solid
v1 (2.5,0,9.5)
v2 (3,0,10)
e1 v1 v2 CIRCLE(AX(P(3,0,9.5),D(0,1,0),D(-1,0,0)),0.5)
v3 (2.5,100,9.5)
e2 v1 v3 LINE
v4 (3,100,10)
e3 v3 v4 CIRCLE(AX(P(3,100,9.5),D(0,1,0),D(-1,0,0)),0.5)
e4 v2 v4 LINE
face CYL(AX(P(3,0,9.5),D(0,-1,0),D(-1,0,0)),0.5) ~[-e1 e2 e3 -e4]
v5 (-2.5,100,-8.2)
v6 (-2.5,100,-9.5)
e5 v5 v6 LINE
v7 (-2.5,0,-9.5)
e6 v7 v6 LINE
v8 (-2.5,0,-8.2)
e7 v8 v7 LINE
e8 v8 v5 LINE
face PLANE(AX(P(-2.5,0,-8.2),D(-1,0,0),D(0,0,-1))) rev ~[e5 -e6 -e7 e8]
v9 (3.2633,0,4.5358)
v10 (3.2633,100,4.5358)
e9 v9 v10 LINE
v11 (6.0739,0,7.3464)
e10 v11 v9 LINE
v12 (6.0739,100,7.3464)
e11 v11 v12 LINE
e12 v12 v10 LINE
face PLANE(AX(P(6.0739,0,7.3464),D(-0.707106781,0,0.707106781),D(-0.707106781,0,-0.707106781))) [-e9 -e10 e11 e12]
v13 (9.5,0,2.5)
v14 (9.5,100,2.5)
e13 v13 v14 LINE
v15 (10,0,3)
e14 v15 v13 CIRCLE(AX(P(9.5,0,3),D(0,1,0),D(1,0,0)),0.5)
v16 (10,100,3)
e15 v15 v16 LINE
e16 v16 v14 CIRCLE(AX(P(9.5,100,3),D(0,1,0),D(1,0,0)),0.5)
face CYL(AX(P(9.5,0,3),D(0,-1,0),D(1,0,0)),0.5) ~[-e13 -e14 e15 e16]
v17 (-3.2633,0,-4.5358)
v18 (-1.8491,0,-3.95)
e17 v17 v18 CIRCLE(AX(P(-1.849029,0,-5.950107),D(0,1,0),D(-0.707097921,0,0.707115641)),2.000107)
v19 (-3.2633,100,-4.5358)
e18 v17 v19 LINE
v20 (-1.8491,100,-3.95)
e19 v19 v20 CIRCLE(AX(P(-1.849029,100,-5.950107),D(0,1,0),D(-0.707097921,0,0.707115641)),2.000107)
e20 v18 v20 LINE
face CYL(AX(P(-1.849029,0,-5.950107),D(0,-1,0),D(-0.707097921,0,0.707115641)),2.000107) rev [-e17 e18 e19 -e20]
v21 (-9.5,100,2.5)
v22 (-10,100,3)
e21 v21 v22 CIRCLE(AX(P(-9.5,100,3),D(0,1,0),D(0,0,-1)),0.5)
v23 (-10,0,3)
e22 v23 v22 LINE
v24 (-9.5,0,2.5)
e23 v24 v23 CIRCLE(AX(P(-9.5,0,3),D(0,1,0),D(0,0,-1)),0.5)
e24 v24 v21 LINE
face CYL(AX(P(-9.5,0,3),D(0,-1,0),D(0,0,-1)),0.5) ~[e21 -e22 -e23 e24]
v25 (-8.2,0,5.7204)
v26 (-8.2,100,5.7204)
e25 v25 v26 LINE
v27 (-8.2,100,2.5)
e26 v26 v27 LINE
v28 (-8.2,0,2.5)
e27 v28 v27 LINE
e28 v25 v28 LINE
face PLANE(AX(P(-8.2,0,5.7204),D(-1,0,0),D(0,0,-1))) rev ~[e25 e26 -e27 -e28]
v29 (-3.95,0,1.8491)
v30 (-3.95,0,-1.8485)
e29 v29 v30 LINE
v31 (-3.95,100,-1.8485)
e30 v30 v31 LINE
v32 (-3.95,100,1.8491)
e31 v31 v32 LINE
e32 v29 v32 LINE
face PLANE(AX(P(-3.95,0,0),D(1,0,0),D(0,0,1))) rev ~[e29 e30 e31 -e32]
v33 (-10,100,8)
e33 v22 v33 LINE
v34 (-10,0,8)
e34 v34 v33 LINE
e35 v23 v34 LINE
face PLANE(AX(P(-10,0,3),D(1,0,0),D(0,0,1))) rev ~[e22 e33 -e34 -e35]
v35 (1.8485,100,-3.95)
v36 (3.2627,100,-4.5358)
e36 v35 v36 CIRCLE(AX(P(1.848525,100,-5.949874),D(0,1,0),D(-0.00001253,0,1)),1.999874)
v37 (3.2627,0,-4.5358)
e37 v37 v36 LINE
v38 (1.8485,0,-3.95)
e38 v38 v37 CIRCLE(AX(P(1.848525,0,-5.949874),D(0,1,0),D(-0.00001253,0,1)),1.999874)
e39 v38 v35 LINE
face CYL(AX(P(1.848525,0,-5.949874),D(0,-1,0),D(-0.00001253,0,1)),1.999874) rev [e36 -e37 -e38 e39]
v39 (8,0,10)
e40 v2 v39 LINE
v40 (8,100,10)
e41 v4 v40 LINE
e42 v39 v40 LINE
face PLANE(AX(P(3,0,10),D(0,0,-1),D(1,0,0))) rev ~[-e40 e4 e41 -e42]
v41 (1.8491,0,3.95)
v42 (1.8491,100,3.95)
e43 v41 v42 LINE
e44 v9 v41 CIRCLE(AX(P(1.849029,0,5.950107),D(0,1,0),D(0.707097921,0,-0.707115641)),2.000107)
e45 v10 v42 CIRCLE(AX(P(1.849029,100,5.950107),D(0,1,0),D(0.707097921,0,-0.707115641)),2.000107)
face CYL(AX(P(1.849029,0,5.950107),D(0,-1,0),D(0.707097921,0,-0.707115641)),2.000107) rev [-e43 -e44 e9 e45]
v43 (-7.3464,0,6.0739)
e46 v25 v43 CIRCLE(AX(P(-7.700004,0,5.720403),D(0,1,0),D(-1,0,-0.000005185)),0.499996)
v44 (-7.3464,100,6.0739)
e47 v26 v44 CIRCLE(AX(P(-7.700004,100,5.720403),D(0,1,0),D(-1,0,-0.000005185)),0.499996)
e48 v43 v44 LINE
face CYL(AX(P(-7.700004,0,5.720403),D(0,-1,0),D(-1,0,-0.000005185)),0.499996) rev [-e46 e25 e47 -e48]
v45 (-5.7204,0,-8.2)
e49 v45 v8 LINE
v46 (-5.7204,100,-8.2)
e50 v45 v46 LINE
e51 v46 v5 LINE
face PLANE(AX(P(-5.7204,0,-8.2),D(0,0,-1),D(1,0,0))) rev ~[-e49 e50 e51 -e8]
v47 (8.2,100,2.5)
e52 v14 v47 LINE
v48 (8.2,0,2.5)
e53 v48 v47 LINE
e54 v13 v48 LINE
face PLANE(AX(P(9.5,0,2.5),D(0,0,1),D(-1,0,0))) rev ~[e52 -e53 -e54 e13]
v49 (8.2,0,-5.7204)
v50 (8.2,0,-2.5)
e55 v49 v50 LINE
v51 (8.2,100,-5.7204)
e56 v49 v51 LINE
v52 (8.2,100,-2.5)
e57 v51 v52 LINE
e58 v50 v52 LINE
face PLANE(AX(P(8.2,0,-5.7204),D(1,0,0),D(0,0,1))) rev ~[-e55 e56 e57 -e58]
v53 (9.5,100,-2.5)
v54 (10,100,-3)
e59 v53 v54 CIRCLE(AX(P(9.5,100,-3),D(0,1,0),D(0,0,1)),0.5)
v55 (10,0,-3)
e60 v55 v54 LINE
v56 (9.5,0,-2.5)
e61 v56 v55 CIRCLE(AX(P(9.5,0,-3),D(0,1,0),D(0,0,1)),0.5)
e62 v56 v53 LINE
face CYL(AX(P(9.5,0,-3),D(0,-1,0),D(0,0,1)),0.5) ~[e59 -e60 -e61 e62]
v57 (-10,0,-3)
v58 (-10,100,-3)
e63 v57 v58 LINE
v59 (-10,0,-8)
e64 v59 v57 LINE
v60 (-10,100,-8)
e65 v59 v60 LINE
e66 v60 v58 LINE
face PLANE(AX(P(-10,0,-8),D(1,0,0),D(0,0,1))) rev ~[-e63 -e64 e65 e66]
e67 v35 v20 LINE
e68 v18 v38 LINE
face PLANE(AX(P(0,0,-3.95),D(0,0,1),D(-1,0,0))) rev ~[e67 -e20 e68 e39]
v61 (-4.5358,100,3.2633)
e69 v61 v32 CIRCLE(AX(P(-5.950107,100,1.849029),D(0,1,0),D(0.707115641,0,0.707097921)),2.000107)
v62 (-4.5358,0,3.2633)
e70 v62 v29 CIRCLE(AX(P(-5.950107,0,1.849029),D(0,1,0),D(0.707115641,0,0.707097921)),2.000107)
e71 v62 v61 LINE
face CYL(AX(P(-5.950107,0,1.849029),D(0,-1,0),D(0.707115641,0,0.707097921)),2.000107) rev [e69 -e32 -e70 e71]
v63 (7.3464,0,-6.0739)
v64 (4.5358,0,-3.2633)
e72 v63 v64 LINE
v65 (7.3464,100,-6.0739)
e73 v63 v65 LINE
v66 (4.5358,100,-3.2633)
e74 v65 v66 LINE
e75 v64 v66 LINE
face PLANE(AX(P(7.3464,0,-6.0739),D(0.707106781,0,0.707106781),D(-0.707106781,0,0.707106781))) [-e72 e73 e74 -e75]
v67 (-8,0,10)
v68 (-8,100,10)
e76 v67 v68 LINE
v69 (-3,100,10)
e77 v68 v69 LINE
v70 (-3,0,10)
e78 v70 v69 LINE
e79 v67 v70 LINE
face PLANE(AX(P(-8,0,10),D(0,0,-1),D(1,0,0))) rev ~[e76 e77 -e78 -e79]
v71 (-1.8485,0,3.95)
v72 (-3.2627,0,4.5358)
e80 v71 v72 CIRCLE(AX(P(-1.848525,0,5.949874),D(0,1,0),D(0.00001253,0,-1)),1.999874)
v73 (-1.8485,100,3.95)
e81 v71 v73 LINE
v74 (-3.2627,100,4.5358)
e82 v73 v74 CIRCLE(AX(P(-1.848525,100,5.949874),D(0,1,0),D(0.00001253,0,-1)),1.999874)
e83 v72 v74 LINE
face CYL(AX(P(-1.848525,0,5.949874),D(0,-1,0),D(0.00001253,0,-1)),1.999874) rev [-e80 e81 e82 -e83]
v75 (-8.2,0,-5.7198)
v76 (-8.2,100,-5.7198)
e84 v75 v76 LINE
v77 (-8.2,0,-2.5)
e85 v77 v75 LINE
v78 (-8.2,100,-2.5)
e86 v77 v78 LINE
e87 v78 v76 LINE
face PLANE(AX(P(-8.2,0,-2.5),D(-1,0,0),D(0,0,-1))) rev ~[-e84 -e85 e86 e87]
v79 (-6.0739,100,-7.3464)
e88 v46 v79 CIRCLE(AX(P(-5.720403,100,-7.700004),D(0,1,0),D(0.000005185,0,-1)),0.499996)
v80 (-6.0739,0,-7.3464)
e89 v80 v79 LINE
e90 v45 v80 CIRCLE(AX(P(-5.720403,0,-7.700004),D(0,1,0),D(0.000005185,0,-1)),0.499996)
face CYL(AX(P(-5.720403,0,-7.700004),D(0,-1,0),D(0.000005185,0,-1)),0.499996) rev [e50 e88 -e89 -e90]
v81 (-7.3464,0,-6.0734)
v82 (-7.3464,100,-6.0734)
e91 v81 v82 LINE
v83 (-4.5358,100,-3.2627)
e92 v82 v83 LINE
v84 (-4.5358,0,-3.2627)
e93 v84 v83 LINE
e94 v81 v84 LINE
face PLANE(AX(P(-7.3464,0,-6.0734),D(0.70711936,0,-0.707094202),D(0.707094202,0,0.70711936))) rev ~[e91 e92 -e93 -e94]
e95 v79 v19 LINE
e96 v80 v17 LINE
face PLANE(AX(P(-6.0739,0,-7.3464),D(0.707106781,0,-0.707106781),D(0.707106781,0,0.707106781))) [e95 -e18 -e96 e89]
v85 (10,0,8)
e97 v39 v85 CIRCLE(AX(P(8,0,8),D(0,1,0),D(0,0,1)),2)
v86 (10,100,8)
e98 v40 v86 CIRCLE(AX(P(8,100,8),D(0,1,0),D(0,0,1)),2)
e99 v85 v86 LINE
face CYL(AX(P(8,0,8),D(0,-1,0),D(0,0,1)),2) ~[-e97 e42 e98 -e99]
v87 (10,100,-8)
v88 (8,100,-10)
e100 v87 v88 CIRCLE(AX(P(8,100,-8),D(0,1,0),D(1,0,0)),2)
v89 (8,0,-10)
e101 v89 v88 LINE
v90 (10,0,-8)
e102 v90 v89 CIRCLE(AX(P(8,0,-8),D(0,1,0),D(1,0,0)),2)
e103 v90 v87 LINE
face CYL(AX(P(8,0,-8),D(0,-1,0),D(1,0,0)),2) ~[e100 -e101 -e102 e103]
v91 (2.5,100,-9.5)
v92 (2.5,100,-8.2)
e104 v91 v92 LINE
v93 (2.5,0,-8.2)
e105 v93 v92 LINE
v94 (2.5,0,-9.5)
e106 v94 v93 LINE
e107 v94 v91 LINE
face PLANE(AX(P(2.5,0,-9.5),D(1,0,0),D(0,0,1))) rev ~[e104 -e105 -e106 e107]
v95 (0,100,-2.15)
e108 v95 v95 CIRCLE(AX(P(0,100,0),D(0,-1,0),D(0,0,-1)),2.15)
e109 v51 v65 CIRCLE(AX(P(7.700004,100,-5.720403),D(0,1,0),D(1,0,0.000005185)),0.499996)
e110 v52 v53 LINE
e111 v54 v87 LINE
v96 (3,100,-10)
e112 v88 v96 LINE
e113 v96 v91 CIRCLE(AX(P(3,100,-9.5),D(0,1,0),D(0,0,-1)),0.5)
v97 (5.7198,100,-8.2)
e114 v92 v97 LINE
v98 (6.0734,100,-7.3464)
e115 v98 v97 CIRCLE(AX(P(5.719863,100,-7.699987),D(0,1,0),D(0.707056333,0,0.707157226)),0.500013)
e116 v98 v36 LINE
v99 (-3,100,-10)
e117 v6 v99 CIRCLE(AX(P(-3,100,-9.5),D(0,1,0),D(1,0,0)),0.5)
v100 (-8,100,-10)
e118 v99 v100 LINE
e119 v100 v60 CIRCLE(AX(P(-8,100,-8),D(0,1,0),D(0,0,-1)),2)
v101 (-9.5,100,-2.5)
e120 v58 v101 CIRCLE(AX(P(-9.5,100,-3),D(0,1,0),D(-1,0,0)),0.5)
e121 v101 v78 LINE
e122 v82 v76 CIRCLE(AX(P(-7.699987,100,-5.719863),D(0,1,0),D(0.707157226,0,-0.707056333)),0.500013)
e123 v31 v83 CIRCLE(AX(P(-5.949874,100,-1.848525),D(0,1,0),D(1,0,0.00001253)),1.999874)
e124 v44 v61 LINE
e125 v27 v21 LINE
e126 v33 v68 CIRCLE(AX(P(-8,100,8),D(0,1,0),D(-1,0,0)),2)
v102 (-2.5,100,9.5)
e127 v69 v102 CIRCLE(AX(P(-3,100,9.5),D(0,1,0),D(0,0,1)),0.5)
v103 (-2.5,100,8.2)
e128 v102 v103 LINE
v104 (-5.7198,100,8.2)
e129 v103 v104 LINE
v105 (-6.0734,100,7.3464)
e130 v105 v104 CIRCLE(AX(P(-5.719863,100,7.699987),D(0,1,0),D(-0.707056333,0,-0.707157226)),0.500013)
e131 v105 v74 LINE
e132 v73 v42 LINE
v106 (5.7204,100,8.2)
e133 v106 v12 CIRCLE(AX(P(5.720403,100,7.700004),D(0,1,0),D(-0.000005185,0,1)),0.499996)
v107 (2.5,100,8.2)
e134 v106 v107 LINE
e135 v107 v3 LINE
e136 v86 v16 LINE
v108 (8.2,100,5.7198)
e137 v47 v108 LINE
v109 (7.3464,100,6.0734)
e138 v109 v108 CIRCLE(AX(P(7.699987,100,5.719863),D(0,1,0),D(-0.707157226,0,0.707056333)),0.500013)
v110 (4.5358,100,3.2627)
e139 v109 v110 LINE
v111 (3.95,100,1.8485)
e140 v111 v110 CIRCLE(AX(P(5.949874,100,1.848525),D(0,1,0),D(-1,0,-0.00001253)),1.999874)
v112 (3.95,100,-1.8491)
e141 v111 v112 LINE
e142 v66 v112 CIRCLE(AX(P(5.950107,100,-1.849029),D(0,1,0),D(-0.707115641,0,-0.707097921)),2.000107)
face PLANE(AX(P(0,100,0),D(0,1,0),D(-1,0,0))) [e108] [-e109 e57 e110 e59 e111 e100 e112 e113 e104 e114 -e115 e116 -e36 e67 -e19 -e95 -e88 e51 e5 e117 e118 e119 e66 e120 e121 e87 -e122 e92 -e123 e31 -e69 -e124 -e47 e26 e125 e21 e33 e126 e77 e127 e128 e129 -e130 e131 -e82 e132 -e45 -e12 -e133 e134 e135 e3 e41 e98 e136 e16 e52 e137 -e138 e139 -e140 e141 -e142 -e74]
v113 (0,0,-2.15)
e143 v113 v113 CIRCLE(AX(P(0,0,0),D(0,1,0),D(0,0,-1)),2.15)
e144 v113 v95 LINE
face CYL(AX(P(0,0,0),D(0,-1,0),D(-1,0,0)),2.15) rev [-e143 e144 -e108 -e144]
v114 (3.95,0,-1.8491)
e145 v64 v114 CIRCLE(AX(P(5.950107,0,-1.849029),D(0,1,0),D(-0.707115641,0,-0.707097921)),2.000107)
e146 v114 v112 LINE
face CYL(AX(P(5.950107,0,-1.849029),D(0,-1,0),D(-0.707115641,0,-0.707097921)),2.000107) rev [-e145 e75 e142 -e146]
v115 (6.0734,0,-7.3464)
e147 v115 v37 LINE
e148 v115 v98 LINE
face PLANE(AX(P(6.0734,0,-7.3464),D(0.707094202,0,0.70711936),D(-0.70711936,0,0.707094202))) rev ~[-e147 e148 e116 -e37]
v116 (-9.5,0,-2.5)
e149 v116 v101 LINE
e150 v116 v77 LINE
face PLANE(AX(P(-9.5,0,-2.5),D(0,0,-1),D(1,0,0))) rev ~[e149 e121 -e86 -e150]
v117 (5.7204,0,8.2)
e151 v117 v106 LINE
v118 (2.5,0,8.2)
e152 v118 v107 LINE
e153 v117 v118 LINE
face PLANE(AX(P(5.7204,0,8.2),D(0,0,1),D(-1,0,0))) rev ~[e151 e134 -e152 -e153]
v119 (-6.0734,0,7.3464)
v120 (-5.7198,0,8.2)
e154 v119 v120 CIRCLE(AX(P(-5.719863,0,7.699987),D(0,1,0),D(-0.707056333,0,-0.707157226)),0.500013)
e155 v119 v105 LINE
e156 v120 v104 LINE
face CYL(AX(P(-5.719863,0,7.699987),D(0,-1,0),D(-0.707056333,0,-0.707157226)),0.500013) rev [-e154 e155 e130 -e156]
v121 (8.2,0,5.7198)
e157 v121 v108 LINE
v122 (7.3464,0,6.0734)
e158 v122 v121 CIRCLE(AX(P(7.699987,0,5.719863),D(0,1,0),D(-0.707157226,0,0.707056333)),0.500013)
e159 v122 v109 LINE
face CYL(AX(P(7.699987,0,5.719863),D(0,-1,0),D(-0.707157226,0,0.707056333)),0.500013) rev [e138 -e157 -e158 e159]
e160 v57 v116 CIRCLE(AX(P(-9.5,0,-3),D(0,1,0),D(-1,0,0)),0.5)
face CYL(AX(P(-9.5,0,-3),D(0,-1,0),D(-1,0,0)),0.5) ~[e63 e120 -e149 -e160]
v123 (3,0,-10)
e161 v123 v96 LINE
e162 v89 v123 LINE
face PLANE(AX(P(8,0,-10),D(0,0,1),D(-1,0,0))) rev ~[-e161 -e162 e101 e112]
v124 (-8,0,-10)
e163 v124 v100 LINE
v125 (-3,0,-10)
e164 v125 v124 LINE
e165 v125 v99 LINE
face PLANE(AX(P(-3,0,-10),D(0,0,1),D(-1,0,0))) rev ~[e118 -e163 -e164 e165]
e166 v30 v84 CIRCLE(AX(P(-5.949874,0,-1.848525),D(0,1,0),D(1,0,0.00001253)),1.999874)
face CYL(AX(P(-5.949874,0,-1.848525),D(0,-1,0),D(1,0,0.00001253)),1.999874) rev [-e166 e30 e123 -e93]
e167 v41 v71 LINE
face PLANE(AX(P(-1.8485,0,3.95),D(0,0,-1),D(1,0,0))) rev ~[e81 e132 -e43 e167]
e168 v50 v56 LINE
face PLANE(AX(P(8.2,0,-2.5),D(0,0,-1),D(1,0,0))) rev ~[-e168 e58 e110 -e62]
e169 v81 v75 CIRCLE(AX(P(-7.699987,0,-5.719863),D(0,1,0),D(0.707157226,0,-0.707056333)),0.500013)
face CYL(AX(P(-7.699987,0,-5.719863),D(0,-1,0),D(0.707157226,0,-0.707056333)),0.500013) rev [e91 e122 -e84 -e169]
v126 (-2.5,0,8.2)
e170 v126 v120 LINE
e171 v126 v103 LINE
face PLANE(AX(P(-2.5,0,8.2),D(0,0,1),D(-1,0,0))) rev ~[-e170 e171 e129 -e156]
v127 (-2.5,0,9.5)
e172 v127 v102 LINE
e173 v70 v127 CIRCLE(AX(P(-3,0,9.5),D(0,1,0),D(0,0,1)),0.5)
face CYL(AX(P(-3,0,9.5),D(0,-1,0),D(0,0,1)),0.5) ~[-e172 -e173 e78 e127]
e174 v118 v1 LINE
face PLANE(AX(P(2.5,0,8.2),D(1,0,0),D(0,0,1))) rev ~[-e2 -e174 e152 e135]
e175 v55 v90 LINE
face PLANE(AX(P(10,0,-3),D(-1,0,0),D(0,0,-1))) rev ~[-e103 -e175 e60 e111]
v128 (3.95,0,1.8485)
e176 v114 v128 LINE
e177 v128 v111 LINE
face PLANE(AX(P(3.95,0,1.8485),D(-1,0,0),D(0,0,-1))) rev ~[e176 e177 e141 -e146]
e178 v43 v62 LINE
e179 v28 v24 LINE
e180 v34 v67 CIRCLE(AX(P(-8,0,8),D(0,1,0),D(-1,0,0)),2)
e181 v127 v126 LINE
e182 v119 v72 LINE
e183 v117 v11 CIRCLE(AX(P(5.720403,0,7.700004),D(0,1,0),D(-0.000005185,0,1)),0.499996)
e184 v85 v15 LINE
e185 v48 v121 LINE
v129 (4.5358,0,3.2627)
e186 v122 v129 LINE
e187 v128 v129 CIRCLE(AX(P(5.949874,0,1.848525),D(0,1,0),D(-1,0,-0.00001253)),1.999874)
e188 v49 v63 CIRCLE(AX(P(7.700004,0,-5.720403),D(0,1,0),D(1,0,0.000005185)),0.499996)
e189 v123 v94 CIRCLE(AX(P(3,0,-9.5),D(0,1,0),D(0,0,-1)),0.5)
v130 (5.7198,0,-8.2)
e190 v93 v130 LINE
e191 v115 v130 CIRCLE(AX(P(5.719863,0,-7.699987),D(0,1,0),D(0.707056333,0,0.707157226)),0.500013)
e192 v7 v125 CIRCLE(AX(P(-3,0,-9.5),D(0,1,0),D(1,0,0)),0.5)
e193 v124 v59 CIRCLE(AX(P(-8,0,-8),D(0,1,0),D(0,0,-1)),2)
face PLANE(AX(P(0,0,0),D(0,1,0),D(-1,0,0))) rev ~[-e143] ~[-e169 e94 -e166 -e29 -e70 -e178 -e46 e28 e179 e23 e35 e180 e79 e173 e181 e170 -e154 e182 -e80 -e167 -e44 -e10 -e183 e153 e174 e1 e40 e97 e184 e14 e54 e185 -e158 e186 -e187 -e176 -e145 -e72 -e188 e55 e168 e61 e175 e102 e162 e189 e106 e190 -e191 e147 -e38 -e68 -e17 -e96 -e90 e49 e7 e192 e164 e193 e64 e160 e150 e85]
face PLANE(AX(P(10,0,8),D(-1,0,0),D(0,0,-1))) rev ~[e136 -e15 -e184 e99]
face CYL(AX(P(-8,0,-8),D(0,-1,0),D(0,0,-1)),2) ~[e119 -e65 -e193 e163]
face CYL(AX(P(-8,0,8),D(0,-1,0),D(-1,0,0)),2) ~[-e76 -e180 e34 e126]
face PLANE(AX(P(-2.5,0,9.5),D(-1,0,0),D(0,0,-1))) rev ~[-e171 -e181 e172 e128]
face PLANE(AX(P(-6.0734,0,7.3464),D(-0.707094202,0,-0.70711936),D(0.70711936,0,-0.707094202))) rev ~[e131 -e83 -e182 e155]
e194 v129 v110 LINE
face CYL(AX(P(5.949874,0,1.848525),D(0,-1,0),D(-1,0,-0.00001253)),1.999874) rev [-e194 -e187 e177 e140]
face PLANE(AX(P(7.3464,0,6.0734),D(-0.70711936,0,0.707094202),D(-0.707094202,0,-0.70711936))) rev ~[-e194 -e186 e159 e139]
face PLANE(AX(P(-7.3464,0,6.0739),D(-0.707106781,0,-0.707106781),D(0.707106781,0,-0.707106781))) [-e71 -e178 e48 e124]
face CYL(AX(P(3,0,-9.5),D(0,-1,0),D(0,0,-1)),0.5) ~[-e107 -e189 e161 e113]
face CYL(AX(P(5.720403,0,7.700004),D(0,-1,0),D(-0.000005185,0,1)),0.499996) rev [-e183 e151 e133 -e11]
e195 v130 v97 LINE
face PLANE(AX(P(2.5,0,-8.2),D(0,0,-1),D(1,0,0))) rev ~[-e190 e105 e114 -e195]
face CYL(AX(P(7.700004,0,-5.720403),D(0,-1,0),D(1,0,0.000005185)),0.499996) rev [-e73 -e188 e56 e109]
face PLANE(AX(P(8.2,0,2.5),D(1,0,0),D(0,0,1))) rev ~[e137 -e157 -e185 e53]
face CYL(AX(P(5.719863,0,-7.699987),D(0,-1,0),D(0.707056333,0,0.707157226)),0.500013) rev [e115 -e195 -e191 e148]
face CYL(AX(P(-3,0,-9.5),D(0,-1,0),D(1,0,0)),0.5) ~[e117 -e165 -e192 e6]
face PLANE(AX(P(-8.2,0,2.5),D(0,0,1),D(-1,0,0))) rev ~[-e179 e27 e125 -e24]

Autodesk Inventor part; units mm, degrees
ref_plane "YZ Plane" through (0, 0, 0) normal (1, 0, 0) x (0, 1, 0)
ref_plane "XZ Plane" through (0, 0, 0) normal (0, 1, 0) x (-1, 0, 0)
ref_plane "XY Plane" through (0, 0, 0) normal (0, 0, 1) x (1, 0, 0)
sketch "Sketch1" plane through (0, 0, 0) normal (0, 1, 0) x (-1, 0, 0)
  line L0 (8, 10) -> (3, 10)
  line L1 (10, 3) -> (10, 8)
  line L2 (2.5, 9.5) -> (2.5, 8.2)
  line L3 (2.5, 8.2) -> (5.7198, 8.2)
  line L4 (6.0734, 7.3464) -> (3.2627, 4.5358)
  line L5 (1.8485, 3.95) -> (0, 3.95)
  line L6 (0, 3.95) -> (0, 2.15)
  line L7 (0, 2.15) -> (0, 2.15)
  line L8 (2.15, 0) -> (2.15, 0)
  line L9 (2.15, 0) -> (3.95, 0)
  line L10 (8.2, 5.7204) -> (8.2, 2.5)
  line L11 (8.2, 2.5) -> (9.5, 2.5)
  line L12 (0, 29.0836) -> (0, -4.1523) construction
  line L13 (3.95, 0) -> (3.95, 1.8491)
  line L14 (7.3464, 6.0739) -> (4.5358, 3.2633)
  arc A0 (10, 8) -> (8, 10) centre (8, 8) ccw
  arc A1 (8.2, 5.7204) -> (7.3464, 6.0739) centre (7.7, 5.7204) ccw
  arc A2 (6.0734, 7.3464) -> (5.7198, 8.2) centre (5.7198, 7.7) ccw
  arc A3 (4.5358, 3.2633) -> (3.95, 1.8491) centre (5.95, 1.8491) ccw
  arc A4 (1.8485, 3.95) -> (3.2627, 4.5358) centre (1.8485, 5.95) ccw
  arc A5 (2.15, 0) -> (0, 2.15) centre (0, 0) ccw
  arc A6 (3, 10) -> (2.5, 9.5) centre (3, 9.5) ccw
  arc A7 (9.5, 2.5) -> (10, 3) centre (9.5, 3) ccw
  line L15 (18.5462, 0) -> (-9.9601, 0) construction
  line L16 (-3, 10) -> (-8, 10)
  arc A8 (-2.5, 9.5) -> (-3, 10) centre (-3, 9.5) ccw
  line L17 (-2.5, 8.2) -> (-2.5, 9.5)
  line L18 (-5.7204, 8.2) -> (-2.5, 8.2)
  arc A9 (-5.7204, 8.2) -> (-6.0739, 7.3464) centre (-5.7204, 7.7) ccw
  line L19 (-6.0739, 7.3464) -> (-3.2633, 4.5358)
  arc A10 (-3.2633, 4.5358) -> (-1.8491, 3.95) centre (-1.8491, 5.95) ccw
  line L20 (0, 3.95) -> (-1.8491, 3.95)
  line L21 (0, 2.15) -> (0, 3.95)
  arc A11 (0, 2.15) -> (-2.15, 0) centre (0, 0) ccw
  line L22 (-3.95, 0) -> (-2.15, 0)
  line L23 (-3.95, 1.8485) -> (-3.95, 0)
  arc A12 (-3.95, 1.8485) -> (-4.5358, 3.2627) centre (-5.95, 1.8485) ccw
  line L24 (-7.3464, 6.0734) -> (-4.5358, 3.2627)
  arc A13 (-7.3464, 6.0734) -> (-8.2, 5.7198) centre (-7.7, 5.7198) ccw
  line L25 (-8.2, 2.5) -> (-8.2, 5.7198)
  line L26 (-9.5, 2.5) -> (-8.2, 2.5)
  arc A14 (-10, 3) -> (-9.5, 2.5) centre (-9.5, 3) ccw
  line L27 (-10, 8) -> (-10, 3)
  arc A15 (-8, 10) -> (-10, 8) centre (-8, 8) ccw
  line L28 (-10, -3) -> (-10, -8)
  arc A16 (-9.5, -2.5) -> (-10, -3) centre (-9.5, -3) ccw
  line L29 (-8.2, -2.5) -> (-9.5, -2.5)
  line L30 (-8.2, -5.7204) -> (-8.2, -2.5)
  arc A17 (-8.2, -5.7204) -> (-7.3464, -6.0739) centre (-7.7, -5.7204) ccw
  line L31 (-7.3464, -6.0739) -> (-4.5358, -3.2633)
  arc A18 (-4.5358, -3.2633) -> (-3.95, -1.8491) centre (-5.95, -1.8491) ccw
  line L32 (-3.95, 0) -> (-3.95, -1.8491)
  line L33 (-2.15, 0) -> (-3.95, 0)
  arc A19 (-2.15, 0) -> (0, -2.15) centre (0, 0) ccw
  line L34 (0, -3.95) -> (0, -2.15)
  line L35 (-1.8485, -3.95) -> (0, -3.95)
  arc A20 (-1.8485, -3.95) -> (-3.2627, -4.5358) centre (-1.8485, -5.95) ccw
  line L36 (-6.0734, -7.3464) -> (-3.2627, -4.5358)
  arc A21 (-6.0734, -7.3464) -> (-5.7198, -8.2) centre (-5.7198, -7.7) ccw
  line L37 (-2.5, -8.2) -> (-5.7198, -8.2)
  line L38 (-2.5, -9.5) -> (-2.5, -8.2)
  arc A22 (-3, -10) -> (-2.5, -9.5) centre (-3, -9.5) ccw
  line L39 (-8, -10) -> (-3, -10)
  arc A23 (-10, -8) -> (-8, -10) centre (-8, -8) ccw
  line L40 (3, -10) -> (8, -10)
  arc A24 (2.5, -9.5) -> (3, -10) centre (3, -9.5) ccw
  line L41 (2.5, -8.2) -> (2.5, -9.5)
  line L42 (5.7204, -8.2) -> (2.5, -8.2)
  arc A25 (5.7204, -8.2) -> (6.0739, -7.3464) centre (5.7204, -7.7) ccw
  line L43 (6.0739, -7.3464) -> (3.2633, -4.5358)
  arc A26 (3.2633, -4.5358) -> (1.8491, -3.95) centre (1.8491, -5.95) ccw
  line L44 (0, -3.95) -> (1.8491, -3.95)
  line L45 (0, -2.15) -> (0, -3.95)
  arc A27 (0, -2.15) -> (2.15, 0) centre (0, 0) ccw
  line L46 (3.95, 0) -> (2.15, 0)
  line L47 (3.95, -1.8485) -> (3.95, 0)
  arc A28 (3.95, -1.8485) -> (4.5358, -3.2627) centre (5.95, -1.8485) ccw
  line L48 (7.3464, -6.0734) -> (4.5358, -3.2627)
  arc A29 (7.3464, -6.0734) -> (8.2, -5.7198) centre (7.7, -5.7198) ccw
  line L49 (8.2, -2.5) -> (8.2, -5.7198)
  line L50 (9.5, -2.5) -> (8.2, -2.5)
  arc A30 (10, -3) -> (9.5, -2.5) centre (9.5, -3) ccw
  line L51 (10, -8) -> (10, -3)
  arc A31 (8, -10) -> (10, -8) centre (8, -8) ccw
  point P0 (0, 0)
  point P1 (3.95, 2.6775)
  point P2 (-2.6775, 3.95)
  point P3 (0, 0)
  point P4 (-3.95, -2.6775)
  point P5 (0, 0)
  point P6 (2.6775, -3.95)
  point P7 (0, 0)
  dimension "d1" = 2.5
  dimension "d2" = 2.5
  dimension "d3" = 1.8
  dimension "d4" = 1.8
  dimension "d5" = 45
  dimension "d6" = 2.15
  dimension "d7" = 2.15
  dimension "d8" = 1.8
  dimension "d11" = 10
  dimension "d12" = 10
  dimension "d14" = 1.8
  dimension "d15" = 1.8
  dimension "d16" = 2.6775
  dimension "d18" = 2
  dimension "d19" = 0.5
  dimension "d20" = 2
  dimension "d21" = 2.15
  dimension "d22" = 0.5
  dimension "d25" = 360
extrude "Profil_20x20" add sketch "Sketch1" along normal blind 100 contours A0 L1 A7 L11 L10 A1 L14 A3 L13 L9 A5 L6 L5 A4 L4 A2 L3 L2 A6 L0 | L6 A11 L22 L23 A12 L24 A13 L25 L26 A14 L27 A15 L16 A8 L17 L18 A9 L19 A10 L20 | L47 A28 L48 A29 L49 L50 A30 L51 A31 L40 A24 L41 L42 A25 L43 A26 L44 L34 A27 L9 | A19 L34 L35 A20 L36 A21 L37 L38 A22 L39 A23 L28 A16 L29 L30 A17 L31 A18 L32 L22
properties part number "Profil_20x20_100"
